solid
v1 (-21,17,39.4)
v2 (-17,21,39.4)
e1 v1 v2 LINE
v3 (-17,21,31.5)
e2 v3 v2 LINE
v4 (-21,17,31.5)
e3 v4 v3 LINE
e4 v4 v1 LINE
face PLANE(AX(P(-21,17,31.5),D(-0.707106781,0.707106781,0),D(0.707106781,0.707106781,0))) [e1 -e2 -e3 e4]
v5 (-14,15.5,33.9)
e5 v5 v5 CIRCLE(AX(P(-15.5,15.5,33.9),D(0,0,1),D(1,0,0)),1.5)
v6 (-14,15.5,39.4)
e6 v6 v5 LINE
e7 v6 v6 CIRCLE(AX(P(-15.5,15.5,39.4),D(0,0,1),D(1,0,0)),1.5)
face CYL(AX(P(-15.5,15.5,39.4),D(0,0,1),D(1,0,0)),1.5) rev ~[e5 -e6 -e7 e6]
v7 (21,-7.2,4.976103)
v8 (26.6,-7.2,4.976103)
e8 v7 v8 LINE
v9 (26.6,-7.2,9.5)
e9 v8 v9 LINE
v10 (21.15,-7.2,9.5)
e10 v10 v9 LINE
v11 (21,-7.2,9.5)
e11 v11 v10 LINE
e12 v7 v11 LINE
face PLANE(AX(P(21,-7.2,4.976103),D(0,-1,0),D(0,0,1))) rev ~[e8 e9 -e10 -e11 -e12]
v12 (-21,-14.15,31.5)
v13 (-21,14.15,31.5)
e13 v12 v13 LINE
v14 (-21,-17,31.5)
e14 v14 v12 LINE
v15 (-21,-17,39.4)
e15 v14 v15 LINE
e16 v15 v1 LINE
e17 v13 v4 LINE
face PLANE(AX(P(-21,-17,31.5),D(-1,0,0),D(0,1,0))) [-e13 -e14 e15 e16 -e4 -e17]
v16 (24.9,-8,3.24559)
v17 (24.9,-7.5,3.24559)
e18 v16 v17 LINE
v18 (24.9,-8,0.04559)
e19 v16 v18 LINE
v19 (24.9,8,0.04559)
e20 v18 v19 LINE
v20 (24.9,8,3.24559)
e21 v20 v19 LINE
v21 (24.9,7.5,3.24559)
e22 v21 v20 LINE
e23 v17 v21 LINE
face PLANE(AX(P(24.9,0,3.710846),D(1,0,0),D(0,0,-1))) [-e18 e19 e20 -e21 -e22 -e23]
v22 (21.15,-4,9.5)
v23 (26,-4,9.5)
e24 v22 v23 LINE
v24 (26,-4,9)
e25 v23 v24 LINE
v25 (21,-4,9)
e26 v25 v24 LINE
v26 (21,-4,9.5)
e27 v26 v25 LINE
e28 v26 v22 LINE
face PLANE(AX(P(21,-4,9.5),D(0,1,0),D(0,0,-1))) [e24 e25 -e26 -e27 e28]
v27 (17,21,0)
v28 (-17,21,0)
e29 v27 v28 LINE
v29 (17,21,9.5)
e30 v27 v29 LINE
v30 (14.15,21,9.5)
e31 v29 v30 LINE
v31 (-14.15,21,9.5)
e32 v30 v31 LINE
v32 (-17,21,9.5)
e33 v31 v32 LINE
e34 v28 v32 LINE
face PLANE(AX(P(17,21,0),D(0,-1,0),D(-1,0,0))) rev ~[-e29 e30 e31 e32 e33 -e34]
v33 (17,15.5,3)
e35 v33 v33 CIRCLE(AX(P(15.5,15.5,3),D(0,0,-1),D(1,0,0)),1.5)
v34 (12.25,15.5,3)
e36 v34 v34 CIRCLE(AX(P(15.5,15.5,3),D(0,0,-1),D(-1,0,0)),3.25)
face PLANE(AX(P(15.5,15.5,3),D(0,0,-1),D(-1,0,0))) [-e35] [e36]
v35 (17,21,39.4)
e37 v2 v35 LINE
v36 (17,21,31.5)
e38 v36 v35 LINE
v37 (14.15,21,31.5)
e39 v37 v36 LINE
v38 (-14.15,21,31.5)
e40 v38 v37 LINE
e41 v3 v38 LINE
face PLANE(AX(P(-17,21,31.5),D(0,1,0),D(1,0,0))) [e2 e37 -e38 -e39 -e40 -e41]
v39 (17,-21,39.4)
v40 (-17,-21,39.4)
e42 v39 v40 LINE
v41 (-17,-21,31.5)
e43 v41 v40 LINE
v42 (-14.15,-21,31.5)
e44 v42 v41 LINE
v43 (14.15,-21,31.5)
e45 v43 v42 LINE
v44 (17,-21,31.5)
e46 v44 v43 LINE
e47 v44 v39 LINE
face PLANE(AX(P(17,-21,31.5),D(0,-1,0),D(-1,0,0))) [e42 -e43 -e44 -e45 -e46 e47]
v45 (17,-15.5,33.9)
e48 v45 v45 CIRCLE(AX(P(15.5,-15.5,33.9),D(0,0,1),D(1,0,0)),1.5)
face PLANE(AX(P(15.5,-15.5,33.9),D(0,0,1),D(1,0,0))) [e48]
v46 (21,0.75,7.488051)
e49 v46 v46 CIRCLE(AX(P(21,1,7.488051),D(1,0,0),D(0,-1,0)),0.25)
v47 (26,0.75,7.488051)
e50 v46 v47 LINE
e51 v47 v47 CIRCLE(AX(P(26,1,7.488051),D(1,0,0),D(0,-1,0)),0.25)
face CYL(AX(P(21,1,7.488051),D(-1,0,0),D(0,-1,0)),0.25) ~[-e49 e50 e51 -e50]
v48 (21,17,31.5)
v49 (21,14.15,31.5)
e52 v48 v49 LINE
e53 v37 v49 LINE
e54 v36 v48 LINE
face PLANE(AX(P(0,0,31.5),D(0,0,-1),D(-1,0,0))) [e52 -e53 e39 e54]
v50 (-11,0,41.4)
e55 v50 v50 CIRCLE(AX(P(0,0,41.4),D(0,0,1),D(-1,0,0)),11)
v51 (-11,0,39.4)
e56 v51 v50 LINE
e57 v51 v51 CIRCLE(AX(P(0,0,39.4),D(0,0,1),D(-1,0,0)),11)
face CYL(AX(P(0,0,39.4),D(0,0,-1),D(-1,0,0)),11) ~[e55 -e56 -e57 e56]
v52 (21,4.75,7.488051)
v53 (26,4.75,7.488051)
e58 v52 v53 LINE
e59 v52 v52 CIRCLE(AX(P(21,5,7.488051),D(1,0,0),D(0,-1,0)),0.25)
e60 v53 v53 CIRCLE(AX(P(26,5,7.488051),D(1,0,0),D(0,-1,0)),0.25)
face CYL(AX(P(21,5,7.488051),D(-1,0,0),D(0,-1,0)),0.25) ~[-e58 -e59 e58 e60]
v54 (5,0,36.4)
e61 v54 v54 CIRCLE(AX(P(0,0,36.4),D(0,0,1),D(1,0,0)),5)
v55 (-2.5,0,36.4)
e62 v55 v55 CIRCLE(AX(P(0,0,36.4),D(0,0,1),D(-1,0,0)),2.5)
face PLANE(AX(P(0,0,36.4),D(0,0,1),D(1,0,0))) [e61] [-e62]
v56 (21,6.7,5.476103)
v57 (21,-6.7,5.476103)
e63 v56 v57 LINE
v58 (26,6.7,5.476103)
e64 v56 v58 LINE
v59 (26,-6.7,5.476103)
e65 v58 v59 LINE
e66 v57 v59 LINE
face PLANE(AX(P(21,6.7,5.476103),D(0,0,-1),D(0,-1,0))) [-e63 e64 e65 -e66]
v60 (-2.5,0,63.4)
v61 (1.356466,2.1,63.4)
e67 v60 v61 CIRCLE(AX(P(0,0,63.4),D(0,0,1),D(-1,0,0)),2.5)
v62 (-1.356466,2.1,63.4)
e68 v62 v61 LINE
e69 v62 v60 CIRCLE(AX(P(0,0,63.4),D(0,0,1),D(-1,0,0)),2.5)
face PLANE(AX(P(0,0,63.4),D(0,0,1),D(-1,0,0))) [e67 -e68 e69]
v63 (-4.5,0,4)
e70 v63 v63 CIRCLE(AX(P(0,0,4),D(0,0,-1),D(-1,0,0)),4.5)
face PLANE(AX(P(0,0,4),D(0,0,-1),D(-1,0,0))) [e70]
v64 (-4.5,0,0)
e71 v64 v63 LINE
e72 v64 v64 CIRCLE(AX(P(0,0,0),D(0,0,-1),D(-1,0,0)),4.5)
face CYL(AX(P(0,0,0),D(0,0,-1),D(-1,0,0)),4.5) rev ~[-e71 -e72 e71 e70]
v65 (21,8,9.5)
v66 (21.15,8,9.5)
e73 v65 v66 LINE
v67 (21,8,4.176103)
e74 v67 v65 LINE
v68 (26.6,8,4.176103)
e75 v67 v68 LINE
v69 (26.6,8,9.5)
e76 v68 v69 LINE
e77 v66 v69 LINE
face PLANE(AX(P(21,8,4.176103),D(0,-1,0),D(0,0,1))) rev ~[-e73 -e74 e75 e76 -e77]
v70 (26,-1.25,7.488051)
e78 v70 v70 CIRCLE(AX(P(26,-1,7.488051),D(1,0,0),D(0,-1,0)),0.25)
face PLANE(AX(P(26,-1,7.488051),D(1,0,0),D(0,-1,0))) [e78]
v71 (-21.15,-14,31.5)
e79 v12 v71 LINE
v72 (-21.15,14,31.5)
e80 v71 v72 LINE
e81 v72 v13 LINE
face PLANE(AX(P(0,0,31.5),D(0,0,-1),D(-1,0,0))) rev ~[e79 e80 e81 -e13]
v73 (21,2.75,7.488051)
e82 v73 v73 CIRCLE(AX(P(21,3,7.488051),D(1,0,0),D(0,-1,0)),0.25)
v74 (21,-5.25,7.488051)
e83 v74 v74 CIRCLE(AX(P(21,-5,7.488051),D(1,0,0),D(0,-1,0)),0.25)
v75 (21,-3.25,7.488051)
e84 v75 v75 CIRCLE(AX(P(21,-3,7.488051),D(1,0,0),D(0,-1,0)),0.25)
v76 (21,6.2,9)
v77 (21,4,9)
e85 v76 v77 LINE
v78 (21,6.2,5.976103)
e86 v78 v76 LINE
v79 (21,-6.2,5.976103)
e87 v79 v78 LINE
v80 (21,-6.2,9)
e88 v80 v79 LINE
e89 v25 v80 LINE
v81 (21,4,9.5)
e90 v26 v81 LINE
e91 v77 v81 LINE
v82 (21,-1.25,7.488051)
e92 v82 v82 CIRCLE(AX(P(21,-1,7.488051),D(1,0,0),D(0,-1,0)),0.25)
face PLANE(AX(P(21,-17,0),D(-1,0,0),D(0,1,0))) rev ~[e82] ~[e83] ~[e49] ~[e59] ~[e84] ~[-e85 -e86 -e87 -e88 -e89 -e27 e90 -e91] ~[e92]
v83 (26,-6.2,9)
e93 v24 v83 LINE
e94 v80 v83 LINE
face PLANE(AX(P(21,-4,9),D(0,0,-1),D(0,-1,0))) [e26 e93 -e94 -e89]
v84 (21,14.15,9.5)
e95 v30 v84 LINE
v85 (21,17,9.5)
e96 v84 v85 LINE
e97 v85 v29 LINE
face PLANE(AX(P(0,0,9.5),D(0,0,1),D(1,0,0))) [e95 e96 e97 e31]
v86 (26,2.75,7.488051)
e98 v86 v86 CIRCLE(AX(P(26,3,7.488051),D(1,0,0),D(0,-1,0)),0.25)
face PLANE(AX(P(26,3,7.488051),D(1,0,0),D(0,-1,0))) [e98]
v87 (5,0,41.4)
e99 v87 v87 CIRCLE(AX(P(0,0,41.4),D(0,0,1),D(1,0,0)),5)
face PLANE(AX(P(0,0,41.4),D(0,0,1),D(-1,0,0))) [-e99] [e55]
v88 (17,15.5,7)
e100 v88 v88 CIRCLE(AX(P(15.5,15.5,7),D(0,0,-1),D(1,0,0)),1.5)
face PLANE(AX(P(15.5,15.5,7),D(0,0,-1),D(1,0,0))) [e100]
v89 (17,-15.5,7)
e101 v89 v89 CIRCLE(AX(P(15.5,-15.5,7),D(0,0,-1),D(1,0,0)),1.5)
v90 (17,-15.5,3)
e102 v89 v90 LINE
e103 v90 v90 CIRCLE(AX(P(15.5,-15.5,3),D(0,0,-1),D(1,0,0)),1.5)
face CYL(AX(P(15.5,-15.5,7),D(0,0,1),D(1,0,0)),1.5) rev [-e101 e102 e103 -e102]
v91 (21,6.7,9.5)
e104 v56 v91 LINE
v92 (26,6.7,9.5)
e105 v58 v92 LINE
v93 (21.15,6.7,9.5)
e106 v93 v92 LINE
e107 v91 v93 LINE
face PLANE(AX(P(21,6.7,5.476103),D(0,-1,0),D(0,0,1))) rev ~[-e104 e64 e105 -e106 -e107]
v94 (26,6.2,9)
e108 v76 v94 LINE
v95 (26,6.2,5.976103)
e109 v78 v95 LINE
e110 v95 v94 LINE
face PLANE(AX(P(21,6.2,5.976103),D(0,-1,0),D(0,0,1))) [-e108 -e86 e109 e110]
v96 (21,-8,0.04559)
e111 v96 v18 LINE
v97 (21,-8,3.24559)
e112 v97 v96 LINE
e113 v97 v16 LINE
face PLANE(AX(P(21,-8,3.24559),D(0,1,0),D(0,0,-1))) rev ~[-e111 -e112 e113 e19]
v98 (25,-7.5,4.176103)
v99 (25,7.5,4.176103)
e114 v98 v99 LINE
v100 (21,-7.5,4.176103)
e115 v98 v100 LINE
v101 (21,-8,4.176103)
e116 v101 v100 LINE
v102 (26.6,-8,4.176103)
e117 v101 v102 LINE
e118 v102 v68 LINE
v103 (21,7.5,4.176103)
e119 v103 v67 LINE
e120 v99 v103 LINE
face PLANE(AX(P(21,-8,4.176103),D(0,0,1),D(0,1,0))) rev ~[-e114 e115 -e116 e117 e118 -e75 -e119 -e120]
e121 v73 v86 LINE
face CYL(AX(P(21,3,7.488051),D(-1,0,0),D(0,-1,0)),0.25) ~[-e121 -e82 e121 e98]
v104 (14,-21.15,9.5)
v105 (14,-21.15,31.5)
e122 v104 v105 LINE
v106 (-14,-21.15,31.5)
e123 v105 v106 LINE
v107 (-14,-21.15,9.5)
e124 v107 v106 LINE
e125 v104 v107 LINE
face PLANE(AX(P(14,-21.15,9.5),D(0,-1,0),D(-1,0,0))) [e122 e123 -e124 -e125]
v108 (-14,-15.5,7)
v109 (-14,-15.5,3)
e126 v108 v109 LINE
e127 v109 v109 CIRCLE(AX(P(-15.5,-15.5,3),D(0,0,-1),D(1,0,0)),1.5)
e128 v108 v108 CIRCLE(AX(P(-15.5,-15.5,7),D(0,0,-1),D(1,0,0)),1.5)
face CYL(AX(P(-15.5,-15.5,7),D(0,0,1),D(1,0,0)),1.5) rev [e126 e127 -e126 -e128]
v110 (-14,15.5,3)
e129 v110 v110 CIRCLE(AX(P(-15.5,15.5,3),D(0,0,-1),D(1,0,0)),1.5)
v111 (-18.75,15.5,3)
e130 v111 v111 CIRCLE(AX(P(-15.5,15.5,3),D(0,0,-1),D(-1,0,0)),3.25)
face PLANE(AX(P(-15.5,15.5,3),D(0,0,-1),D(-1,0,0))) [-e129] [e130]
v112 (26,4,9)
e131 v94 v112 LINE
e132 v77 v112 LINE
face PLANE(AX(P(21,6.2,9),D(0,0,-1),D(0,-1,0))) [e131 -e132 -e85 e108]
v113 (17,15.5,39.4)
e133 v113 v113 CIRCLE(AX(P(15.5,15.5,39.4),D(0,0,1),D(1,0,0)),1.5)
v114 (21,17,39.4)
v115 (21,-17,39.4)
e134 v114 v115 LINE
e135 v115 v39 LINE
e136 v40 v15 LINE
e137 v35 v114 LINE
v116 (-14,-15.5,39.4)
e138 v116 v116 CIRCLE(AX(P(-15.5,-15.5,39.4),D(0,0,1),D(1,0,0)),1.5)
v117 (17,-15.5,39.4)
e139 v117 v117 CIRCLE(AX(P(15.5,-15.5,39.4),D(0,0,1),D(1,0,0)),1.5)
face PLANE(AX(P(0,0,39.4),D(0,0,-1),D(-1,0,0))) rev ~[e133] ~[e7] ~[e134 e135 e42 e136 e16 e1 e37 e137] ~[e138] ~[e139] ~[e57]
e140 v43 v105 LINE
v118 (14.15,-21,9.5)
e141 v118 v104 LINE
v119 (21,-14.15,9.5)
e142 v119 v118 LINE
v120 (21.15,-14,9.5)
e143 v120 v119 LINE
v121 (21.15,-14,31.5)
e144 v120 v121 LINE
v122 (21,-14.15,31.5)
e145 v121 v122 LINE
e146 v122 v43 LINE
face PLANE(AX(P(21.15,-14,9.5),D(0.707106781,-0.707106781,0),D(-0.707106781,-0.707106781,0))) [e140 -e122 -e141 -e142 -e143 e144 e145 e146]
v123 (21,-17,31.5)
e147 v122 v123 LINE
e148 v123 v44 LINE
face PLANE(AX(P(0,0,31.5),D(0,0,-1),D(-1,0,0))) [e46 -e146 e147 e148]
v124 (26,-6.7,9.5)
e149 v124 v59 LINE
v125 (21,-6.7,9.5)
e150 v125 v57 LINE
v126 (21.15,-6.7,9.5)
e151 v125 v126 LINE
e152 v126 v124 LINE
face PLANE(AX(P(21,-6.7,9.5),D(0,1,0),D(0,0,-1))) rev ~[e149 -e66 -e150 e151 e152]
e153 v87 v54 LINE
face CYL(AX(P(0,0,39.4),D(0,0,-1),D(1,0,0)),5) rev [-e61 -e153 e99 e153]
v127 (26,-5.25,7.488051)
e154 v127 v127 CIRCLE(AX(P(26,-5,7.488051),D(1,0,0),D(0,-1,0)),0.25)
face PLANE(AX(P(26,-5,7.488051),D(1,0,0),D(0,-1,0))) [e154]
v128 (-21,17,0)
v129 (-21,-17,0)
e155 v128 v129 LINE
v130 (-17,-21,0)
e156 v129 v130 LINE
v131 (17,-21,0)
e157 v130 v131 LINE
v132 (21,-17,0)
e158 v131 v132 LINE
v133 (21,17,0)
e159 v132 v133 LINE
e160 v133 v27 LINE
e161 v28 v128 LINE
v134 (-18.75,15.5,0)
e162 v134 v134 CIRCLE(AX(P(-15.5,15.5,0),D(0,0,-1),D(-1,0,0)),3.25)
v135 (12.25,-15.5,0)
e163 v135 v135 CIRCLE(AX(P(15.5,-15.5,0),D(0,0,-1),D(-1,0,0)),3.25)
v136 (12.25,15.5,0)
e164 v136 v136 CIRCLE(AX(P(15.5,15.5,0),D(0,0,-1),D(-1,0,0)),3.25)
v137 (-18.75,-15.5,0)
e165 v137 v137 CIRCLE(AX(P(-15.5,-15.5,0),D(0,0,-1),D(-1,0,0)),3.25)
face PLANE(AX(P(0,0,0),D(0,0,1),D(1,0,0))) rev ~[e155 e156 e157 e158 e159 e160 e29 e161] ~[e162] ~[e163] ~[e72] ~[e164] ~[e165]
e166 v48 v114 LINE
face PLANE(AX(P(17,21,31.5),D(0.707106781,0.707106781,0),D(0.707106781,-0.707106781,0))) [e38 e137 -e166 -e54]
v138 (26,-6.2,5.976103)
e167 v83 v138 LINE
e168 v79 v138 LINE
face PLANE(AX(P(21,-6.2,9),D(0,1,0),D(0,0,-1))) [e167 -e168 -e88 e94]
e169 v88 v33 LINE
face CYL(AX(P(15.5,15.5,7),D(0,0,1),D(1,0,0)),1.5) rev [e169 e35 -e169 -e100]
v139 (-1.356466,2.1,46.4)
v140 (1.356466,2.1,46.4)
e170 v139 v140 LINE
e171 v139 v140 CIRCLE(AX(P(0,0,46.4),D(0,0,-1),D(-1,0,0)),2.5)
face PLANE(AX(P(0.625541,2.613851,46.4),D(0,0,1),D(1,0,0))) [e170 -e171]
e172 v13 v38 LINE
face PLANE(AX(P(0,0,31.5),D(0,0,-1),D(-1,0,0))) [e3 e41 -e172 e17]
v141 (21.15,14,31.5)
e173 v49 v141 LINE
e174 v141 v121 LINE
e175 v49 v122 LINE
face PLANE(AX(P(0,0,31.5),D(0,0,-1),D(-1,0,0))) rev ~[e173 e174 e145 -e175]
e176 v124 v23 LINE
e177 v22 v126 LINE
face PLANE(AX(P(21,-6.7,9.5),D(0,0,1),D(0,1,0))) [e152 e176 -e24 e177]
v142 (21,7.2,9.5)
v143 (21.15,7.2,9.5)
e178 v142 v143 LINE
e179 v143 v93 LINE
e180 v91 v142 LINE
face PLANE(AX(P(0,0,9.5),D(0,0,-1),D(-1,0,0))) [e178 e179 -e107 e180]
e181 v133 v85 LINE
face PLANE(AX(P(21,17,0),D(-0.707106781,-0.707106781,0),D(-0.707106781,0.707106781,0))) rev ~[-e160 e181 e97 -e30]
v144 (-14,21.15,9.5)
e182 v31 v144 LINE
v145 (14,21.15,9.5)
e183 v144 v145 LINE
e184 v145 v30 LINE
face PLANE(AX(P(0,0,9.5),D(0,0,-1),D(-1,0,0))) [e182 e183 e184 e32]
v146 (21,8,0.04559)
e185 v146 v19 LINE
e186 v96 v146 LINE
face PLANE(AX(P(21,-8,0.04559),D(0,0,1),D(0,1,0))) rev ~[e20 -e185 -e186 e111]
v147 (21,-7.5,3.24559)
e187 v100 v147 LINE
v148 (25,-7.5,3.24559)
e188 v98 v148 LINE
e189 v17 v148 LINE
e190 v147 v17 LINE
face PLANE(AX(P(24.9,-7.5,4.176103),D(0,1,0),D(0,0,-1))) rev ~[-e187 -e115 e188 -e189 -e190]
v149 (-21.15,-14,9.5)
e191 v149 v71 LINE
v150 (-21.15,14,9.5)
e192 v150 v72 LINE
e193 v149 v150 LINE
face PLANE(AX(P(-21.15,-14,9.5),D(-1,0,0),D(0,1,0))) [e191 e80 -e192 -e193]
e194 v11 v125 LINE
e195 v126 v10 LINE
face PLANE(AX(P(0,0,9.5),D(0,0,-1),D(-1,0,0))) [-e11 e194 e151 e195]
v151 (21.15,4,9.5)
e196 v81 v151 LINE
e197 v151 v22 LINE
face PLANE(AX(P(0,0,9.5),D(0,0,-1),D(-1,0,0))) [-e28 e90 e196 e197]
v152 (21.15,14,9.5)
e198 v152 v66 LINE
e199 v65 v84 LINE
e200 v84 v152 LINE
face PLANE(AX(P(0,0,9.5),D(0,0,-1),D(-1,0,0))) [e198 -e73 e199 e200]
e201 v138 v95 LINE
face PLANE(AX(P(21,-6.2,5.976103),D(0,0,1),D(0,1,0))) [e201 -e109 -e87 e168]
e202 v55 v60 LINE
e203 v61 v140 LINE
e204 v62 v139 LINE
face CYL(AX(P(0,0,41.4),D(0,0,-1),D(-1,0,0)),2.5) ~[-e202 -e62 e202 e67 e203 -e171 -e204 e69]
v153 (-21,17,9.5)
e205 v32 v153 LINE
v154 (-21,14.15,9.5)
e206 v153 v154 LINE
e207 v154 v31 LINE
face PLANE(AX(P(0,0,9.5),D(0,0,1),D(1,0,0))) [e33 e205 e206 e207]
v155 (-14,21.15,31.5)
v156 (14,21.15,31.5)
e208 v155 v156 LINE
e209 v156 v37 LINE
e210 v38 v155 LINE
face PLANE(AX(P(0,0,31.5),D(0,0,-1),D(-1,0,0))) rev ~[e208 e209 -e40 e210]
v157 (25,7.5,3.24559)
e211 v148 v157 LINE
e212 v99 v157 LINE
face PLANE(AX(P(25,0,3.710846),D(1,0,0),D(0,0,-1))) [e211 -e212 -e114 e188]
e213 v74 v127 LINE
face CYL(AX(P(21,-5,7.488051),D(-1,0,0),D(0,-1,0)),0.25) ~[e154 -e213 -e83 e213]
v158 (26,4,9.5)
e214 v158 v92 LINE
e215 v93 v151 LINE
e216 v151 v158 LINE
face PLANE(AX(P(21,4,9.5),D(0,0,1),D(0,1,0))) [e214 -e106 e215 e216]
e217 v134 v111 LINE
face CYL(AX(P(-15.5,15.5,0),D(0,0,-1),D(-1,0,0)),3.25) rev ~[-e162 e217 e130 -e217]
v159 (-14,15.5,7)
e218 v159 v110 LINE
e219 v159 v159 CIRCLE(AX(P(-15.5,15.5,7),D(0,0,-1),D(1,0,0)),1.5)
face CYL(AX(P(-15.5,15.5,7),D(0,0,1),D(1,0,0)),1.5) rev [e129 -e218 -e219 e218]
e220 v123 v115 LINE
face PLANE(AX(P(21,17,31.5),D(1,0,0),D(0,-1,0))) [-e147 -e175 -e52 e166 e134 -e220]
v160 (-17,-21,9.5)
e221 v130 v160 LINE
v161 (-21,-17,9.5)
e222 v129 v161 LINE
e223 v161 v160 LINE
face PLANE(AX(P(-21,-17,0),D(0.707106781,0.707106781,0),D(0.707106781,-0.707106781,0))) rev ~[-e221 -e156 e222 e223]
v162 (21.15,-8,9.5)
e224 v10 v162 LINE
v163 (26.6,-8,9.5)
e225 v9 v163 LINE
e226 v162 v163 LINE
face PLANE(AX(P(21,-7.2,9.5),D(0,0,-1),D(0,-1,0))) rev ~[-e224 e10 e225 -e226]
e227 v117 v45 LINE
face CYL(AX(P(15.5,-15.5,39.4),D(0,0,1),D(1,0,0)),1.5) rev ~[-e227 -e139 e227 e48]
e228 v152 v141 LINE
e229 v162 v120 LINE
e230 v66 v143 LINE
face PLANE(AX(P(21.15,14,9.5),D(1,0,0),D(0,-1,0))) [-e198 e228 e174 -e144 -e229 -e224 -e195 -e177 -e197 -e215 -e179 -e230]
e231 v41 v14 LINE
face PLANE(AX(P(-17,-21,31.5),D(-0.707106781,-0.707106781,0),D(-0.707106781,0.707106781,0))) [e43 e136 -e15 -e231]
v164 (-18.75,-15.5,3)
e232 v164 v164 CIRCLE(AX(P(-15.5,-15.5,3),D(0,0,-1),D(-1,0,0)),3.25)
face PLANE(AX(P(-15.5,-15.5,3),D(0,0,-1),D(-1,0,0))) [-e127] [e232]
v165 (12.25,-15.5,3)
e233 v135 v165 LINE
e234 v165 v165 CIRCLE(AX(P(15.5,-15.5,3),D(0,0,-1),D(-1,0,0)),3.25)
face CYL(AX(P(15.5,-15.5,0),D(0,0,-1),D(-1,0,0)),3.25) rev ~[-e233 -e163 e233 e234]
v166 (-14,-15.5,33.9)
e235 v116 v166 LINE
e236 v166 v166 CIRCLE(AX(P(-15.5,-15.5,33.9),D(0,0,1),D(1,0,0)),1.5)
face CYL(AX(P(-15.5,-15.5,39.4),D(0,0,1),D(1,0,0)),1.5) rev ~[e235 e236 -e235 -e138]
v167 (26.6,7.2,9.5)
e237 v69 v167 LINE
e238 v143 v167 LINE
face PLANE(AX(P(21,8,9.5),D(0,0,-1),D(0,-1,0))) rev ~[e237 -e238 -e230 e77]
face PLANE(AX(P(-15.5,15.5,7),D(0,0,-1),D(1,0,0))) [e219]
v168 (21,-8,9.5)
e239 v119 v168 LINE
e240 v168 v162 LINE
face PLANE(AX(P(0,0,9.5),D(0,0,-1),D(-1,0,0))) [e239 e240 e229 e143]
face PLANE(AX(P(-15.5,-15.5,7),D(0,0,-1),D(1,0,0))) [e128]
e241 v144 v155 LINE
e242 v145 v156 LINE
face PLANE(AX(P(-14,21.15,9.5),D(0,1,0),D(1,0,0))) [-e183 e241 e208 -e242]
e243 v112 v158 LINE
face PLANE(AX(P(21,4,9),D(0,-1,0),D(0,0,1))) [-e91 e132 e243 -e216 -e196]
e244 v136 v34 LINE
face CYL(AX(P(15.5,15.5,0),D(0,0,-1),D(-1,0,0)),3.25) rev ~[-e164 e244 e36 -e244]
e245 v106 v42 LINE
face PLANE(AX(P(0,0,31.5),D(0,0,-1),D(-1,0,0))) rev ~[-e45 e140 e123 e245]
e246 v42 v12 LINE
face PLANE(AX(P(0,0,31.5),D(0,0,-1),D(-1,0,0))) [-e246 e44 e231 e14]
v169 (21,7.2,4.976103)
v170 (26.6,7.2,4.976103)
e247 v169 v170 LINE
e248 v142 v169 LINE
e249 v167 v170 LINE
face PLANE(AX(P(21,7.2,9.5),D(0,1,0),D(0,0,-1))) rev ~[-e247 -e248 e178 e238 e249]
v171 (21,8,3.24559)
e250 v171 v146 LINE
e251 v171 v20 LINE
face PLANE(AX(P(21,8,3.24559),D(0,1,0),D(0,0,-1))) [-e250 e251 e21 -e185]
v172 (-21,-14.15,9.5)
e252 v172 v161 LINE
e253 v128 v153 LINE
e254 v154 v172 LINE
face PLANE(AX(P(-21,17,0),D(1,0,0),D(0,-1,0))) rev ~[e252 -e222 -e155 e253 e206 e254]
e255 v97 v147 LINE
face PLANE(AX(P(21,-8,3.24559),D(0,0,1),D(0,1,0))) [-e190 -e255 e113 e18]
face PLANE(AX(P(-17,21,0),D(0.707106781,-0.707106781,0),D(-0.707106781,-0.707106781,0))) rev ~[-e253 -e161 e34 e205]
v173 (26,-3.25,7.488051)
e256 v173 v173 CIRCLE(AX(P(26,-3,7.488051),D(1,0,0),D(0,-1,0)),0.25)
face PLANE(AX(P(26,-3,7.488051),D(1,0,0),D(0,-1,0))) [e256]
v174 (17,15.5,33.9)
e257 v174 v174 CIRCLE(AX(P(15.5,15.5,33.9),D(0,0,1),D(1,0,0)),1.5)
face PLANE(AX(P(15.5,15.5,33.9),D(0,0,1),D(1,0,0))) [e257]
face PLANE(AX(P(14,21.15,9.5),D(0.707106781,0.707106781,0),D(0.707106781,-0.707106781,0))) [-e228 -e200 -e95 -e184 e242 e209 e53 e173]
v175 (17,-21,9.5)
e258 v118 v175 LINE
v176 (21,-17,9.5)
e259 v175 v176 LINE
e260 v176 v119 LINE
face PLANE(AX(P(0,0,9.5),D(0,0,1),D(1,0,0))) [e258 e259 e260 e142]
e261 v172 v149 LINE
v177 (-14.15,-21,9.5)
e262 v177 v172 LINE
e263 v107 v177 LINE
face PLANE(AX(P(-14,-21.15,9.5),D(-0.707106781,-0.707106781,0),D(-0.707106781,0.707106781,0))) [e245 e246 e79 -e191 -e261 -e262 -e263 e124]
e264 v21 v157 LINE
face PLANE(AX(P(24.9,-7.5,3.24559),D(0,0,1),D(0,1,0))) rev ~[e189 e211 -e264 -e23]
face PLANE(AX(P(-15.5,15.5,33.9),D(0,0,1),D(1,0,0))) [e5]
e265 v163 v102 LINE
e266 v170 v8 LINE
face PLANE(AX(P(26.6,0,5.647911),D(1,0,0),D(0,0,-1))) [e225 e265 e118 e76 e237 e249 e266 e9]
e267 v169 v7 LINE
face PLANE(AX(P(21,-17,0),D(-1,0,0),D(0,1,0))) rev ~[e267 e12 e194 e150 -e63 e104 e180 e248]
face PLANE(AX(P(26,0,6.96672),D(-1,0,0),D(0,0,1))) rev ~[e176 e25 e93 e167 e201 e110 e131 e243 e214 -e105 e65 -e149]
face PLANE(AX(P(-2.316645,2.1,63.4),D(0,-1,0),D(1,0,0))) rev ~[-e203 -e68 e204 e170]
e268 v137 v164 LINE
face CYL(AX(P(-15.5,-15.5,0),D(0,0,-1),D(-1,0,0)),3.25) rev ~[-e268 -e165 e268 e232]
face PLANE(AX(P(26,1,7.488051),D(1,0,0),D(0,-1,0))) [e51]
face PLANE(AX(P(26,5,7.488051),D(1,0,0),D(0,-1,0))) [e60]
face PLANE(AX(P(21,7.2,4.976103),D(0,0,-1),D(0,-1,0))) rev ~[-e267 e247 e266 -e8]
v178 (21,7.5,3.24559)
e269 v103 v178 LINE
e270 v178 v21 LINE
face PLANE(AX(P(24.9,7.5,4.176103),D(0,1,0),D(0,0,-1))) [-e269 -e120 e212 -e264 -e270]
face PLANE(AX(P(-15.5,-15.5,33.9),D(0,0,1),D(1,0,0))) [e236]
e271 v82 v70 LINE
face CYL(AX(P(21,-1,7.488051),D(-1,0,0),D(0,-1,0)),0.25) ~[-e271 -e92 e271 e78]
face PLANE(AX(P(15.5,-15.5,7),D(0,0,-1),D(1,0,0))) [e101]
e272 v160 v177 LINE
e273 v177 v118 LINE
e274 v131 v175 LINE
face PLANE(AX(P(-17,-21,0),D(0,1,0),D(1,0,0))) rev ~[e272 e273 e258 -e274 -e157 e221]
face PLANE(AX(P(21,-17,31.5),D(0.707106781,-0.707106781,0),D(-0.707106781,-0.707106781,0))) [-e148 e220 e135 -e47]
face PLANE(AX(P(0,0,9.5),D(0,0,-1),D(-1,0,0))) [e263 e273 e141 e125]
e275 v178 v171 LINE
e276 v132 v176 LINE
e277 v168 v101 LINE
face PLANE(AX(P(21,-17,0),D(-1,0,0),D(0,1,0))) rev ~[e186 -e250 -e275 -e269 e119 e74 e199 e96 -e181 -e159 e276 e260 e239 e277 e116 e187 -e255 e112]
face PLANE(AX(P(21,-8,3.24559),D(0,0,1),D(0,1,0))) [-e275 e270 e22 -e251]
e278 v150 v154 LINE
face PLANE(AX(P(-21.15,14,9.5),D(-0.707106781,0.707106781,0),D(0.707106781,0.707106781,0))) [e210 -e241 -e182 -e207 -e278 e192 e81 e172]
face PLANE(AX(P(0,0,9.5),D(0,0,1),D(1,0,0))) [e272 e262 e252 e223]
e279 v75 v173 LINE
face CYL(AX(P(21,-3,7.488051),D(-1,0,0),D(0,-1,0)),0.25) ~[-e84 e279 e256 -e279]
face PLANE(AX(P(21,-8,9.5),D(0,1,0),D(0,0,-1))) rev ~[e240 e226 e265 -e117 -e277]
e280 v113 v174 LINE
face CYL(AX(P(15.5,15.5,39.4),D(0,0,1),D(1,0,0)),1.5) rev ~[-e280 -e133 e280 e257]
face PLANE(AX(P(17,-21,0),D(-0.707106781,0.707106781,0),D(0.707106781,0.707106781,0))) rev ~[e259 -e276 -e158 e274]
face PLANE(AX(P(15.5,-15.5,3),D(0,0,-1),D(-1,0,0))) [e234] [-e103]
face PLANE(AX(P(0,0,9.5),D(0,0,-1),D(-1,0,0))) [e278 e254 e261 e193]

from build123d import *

# Parameters (mm, degrees)
BOSS_EXTRUDE1_DEPTH  = 9.5
BOSS_EXTRUDE2_DEPTH  = 22
BOSS_EXTRUDE3_DEPTH  = 7.9
SKETCH5_R            = 11
SKETCH5_R_2          = 5
BOSS_EXTRUDE4_DEPTH  = 2
CUT_EXTRUDE1_START   = -3
SKETCH6_R            = 5
CUT_EXTRUDE1_DEPTH   = 3
SKETCH7_R            = 2.5
BOSS_EXTRUDE5_DEPTH  = 5
SKETCH8_R            = 2.5
BOSS_EXTRUDE6_DEPTH  = 22
CUT_EXTRUDE2_DEPTH   = 17
SKETCH11_W           = 3.2
SKETCH11_H           = 16
BOSS_EXTRUDE8_DEPTH  = 3.9
BOSS_EXTRUDE9_DEPTH  = 5.6
SKETCH13_W           = 0.930512921
SKETCH13_H           = 15
BOSS_EXTRUDE10_DEPTH = 3.9
SKETCH14_W           = 0.930512921
SKETCH14_H           = 15
BOSS_EXTRUDE11_DEPTH = 0.1
BOSS_EXTRUDE12_DEPTH = 5
SKETCH16_R           = 0.25
BOSS_EXTRUDE13_DEPTH = 5
SKETCH17_R           = 1.5
CUT_EXTRUDE3_DEPTH   = 5.5
SKETCH18_R           = 3.25
CUT_EXTRUDE4_DEPTH   = 3
CUT_EXTRUDE5_START   = -4
SKETCH20_R           = 1.5
CUT_EXTRUDE5_DEPTH   = 4
SKETCH21_R           = 4.5
CUT_EXTRUDE6_DEPTH   = 4


with BuildPart() as part:
    # Sketch1 → Boss-Extrude1 (new body)
    with BuildSketch(Plane.XY):
        Polygon((-17, 21), (-21, 17), (-21, -17), (-17, -21), (17, -21), (21, -17), (21, 17), (17, 21), align=None)
    extrude(amount=BOSS_EXTRUDE1_DEPTH)

    # Sketch2 → Boss-Extrude2 (add)
    with BuildSketch(Plane.XY.offset(9.5)):
        Polygon((14, 21.15), (21.15, 14), (21.15, -14), (14, -21.15), (-14, -21.15), (-21.15, -14), (-21.15, 14), (-14, 21.15), align=None)
    extrude(amount=BOSS_EXTRUDE2_DEPTH)

    # Sketch3 → Boss-Extrude3 (add)
    with BuildSketch(Plane.XY.offset(31.5)):
        Polygon((-17, 21), (17, 21), (21, 17), (21, -17), (17, -21), (-17, -21), (-21, -17), (-21, 17), align=None)
    extrude(amount=BOSS_EXTRUDE3_DEPTH)

    # Sketch5 → Boss-Extrude4 (add)
    with BuildSketch(Plane.XY.offset(39.4)):
        with Locations(Location((0, 0, 0), (0, 0, 180))):
            Circle(SKETCH5_R)
        Circle(SKETCH5_R_2, mode=Mode.SUBTRACT)
    extrude(amount=BOSS_EXTRUDE4_DEPTH)

    # Sketch6 → Cut-Extrude1 (cut)
    with BuildSketch(Plane.XY.offset(39.4).offset(CUT_EXTRUDE1_START)):
        Circle(SKETCH6_R)
    extrude(amount=CUT_EXTRUDE1_DEPTH, mode=Mode.SUBTRACT)

    # Sketch7 → Boss-Extrude5 (add)
    with BuildSketch(Plane.XY.offset(36.4)):
        with Locations(Location((0, 0, 0), (0, 0, 180))):
            Circle(SKETCH7_R)
    extrude(amount=BOSS_EXTRUDE5_DEPTH)

    # Sketch8 → Boss-Extrude6 (add)
    with BuildSketch(Plane.XY.offset(41.4)):
        with Locations(Location((0, 0, 0), (0, 0, 180))):
            Circle(SKETCH8_R)
    extrude(amount=BOSS_EXTRUDE6_DEPTH)

    # Sketch9 → Cut-Extrude2 (cut)
    with BuildSketch(Plane.XY.offset(63.4)):
        Polygon((-2.316645086, 2.1), (3.697939095, 2.1), (-0.123554347, 3.991048302), align=None)
    extrude(amount=-CUT_EXTRUDE2_DEPTH, mode=Mode.SUBTRACT)

    # Sketch11 → Boss-Extrude8 (add)
    with BuildSketch(Plane(origin=(21, 0, 0), x_dir=(0, 0, -1), z_dir=(1, 0, 0))):
        with Locations((-1.645589959, 0)):
            Rectangle(SKETCH11_W, SKETCH11_H)
    extrude(amount=BOSS_EXTRUDE8_DEPTH)

    # Sketch12 → Boss-Extrude9 (add)
    with BuildSketch(Plane(origin=(21, 0, 0), x_dir=(0, 0, -1), z_dir=(1, 0, 0))):
        Polygon((-9.5, 7.2), (-4.97610288, 7.2), (-4.97610288, -7.2), (-9.5, -7.2), (-9.5, -8), (-4.17610288, -8), (-4.17610288, -7.2), (-4.17610288, 7.2), (-4.17610288, 8), (-9.5, 8), align=None)
    extrude(amount=BOSS_EXTRUDE9_DEPTH)

    # Sketch13 → Boss-Extrude10 (add)
    with BuildSketch(Plane(origin=(21, 0, 0), x_dir=(0, 0, -1), z_dir=(1, 0, 0))):
        with Locations((-3.71084642, 0)):
            Rectangle(SKETCH13_W, SKETCH13_H)
    extrude(amount=BOSS_EXTRUDE10_DEPTH)

    # Sketch14 → Boss-Extrude11 (add)
    with BuildSketch(Plane(origin=(24.9, 0, 0), x_dir=(0, 0, -1), z_dir=(1, 0, 0))):
        with Locations((-3.71084642, 0)):
            Rectangle(SKETCH14_W, SKETCH14_H)
    extrude(amount=BOSS_EXTRUDE11_DEPTH)

    # Sketch15 → Boss-Extrude12 (add)
    with BuildSketch(Plane(origin=(21, 0, 0), x_dir=(0, 0, -1), z_dir=(1, 0, 0))):
        Polygon((-5.97610288, 6.2), (-9, 6.2), (-9, 4), (-9.5, 4), (-9.5, 6.7), (-9, 6.7), (-5.47610288, 6.7), (-5.47610288, -6.7), (-9, -6.7), (-9.5, -6.7), (-9.5, -4), (-9, -4), (-9, -6.2), (-5.97610288, -6.2), align=None)
    extrude(amount=BOSS_EXTRUDE12_DEPTH)

    # Sketch16 → Boss-Extrude13 (add)
    with BuildSketch(Plane(origin=(21, 0, 0), x_dir=(0, 0, -1), z_dir=(1, 0, 0))):
        with Locations(Location((-7.48805144, 5, 0), (0, 0, 270))):
            Circle(SKETCH16_R)
        with Locations(Location((-7.48805144, 3, 0), (0, 0, 270))):
            Circle(SKETCH16_R)
        with Locations(Location((-7.48805144, 1, 0), (0, 0, 270))):
            Circle(SKETCH16_R)
        with Locations(Location((-7.48805144, -1, 0), (0, 0, 270))):
            Circle(SKETCH16_R)
        with Locations(Location((-7.48805144, -3, 0), (0, 0, 270))):
            Circle(SKETCH16_R)
        with Locations(Location((-7.48805144, -5, 0), (0, 0, 270))):
            Circle(SKETCH16_R)
    extrude(amount=BOSS_EXTRUDE13_DEPTH)

    # Sketch17 → Cut-Extrude3 (cut)
    with BuildSketch(Plane.XY.offset(39.4)):
        with Locations((-15.5, 15.5)):
            Circle(SKETCH17_R)
        with Locations((15.5, 15.5)):
            Circle(SKETCH17_R)
        with Locations((15.5, -15.5)):
            Circle(SKETCH17_R)
        with Locations((-15.5, -15.5)):
            Circle(SKETCH17_R)
    extrude(amount=-CUT_EXTRUDE3_DEPTH, mode=Mode.SUBTRACT)

    # Sketch18 → Cut-Extrude4 (cut)
    with BuildSketch(Plane(origin=(0, 0, 0), x_dir=(-1, 0, 0), z_dir=(0, 0, -1))):
        with Locations((-15.5, 15.5)):
            Circle(SKETCH18_R)
        with Locations((15.5, 15.5)):
            Circle(SKETCH18_R)
        with Locations((15.5, -15.5)):
            Circle(SKETCH18_R)
        with Locations((-15.5, -15.5)):
            Circle(SKETCH18_R)
    extrude(amount=-CUT_EXTRUDE4_DEPTH, mode=Mode.SUBTRACT)

    # Sketch20 → Cut-Extrude5 (cut)
    with BuildSketch(Plane(origin=(0, 0, 3), x_dir=(-1, 0, 0), z_dir=(0, 0, -1)).offset(CUT_EXTRUDE5_START)):
        with Locations(Location((-15.5, 15.5, 0), (0, 0, 180))):
            Circle(SKETCH20_R)
        with Locations(Location((15.5, 15.5, 0), (0, 0, 180))):
            Circle(SKETCH20_R)
        with Locations(Location((-15.5, -15.5, 0), (0, 0, 180))):
            Circle(SKETCH20_R)
        with Locations(Location((15.5, -15.5, 0), (0, 0, 180))):
            Circle(SKETCH20_R)
    extrude(amount=CUT_EXTRUDE5_DEPTH, mode=Mode.SUBTRACT)

    # Sketch21 → Cut-Extrude6 (cut)
    with BuildSketch(Plane(origin=(0, 0, 0), x_dir=(-1, 0, 0), z_dir=(0, 0, -1))):
        Circle(SKETCH21_R)
    extrude(amount=-CUT_EXTRUDE6_DEPTH, mode=Mode.SUBTRACT)


solid = part.part
